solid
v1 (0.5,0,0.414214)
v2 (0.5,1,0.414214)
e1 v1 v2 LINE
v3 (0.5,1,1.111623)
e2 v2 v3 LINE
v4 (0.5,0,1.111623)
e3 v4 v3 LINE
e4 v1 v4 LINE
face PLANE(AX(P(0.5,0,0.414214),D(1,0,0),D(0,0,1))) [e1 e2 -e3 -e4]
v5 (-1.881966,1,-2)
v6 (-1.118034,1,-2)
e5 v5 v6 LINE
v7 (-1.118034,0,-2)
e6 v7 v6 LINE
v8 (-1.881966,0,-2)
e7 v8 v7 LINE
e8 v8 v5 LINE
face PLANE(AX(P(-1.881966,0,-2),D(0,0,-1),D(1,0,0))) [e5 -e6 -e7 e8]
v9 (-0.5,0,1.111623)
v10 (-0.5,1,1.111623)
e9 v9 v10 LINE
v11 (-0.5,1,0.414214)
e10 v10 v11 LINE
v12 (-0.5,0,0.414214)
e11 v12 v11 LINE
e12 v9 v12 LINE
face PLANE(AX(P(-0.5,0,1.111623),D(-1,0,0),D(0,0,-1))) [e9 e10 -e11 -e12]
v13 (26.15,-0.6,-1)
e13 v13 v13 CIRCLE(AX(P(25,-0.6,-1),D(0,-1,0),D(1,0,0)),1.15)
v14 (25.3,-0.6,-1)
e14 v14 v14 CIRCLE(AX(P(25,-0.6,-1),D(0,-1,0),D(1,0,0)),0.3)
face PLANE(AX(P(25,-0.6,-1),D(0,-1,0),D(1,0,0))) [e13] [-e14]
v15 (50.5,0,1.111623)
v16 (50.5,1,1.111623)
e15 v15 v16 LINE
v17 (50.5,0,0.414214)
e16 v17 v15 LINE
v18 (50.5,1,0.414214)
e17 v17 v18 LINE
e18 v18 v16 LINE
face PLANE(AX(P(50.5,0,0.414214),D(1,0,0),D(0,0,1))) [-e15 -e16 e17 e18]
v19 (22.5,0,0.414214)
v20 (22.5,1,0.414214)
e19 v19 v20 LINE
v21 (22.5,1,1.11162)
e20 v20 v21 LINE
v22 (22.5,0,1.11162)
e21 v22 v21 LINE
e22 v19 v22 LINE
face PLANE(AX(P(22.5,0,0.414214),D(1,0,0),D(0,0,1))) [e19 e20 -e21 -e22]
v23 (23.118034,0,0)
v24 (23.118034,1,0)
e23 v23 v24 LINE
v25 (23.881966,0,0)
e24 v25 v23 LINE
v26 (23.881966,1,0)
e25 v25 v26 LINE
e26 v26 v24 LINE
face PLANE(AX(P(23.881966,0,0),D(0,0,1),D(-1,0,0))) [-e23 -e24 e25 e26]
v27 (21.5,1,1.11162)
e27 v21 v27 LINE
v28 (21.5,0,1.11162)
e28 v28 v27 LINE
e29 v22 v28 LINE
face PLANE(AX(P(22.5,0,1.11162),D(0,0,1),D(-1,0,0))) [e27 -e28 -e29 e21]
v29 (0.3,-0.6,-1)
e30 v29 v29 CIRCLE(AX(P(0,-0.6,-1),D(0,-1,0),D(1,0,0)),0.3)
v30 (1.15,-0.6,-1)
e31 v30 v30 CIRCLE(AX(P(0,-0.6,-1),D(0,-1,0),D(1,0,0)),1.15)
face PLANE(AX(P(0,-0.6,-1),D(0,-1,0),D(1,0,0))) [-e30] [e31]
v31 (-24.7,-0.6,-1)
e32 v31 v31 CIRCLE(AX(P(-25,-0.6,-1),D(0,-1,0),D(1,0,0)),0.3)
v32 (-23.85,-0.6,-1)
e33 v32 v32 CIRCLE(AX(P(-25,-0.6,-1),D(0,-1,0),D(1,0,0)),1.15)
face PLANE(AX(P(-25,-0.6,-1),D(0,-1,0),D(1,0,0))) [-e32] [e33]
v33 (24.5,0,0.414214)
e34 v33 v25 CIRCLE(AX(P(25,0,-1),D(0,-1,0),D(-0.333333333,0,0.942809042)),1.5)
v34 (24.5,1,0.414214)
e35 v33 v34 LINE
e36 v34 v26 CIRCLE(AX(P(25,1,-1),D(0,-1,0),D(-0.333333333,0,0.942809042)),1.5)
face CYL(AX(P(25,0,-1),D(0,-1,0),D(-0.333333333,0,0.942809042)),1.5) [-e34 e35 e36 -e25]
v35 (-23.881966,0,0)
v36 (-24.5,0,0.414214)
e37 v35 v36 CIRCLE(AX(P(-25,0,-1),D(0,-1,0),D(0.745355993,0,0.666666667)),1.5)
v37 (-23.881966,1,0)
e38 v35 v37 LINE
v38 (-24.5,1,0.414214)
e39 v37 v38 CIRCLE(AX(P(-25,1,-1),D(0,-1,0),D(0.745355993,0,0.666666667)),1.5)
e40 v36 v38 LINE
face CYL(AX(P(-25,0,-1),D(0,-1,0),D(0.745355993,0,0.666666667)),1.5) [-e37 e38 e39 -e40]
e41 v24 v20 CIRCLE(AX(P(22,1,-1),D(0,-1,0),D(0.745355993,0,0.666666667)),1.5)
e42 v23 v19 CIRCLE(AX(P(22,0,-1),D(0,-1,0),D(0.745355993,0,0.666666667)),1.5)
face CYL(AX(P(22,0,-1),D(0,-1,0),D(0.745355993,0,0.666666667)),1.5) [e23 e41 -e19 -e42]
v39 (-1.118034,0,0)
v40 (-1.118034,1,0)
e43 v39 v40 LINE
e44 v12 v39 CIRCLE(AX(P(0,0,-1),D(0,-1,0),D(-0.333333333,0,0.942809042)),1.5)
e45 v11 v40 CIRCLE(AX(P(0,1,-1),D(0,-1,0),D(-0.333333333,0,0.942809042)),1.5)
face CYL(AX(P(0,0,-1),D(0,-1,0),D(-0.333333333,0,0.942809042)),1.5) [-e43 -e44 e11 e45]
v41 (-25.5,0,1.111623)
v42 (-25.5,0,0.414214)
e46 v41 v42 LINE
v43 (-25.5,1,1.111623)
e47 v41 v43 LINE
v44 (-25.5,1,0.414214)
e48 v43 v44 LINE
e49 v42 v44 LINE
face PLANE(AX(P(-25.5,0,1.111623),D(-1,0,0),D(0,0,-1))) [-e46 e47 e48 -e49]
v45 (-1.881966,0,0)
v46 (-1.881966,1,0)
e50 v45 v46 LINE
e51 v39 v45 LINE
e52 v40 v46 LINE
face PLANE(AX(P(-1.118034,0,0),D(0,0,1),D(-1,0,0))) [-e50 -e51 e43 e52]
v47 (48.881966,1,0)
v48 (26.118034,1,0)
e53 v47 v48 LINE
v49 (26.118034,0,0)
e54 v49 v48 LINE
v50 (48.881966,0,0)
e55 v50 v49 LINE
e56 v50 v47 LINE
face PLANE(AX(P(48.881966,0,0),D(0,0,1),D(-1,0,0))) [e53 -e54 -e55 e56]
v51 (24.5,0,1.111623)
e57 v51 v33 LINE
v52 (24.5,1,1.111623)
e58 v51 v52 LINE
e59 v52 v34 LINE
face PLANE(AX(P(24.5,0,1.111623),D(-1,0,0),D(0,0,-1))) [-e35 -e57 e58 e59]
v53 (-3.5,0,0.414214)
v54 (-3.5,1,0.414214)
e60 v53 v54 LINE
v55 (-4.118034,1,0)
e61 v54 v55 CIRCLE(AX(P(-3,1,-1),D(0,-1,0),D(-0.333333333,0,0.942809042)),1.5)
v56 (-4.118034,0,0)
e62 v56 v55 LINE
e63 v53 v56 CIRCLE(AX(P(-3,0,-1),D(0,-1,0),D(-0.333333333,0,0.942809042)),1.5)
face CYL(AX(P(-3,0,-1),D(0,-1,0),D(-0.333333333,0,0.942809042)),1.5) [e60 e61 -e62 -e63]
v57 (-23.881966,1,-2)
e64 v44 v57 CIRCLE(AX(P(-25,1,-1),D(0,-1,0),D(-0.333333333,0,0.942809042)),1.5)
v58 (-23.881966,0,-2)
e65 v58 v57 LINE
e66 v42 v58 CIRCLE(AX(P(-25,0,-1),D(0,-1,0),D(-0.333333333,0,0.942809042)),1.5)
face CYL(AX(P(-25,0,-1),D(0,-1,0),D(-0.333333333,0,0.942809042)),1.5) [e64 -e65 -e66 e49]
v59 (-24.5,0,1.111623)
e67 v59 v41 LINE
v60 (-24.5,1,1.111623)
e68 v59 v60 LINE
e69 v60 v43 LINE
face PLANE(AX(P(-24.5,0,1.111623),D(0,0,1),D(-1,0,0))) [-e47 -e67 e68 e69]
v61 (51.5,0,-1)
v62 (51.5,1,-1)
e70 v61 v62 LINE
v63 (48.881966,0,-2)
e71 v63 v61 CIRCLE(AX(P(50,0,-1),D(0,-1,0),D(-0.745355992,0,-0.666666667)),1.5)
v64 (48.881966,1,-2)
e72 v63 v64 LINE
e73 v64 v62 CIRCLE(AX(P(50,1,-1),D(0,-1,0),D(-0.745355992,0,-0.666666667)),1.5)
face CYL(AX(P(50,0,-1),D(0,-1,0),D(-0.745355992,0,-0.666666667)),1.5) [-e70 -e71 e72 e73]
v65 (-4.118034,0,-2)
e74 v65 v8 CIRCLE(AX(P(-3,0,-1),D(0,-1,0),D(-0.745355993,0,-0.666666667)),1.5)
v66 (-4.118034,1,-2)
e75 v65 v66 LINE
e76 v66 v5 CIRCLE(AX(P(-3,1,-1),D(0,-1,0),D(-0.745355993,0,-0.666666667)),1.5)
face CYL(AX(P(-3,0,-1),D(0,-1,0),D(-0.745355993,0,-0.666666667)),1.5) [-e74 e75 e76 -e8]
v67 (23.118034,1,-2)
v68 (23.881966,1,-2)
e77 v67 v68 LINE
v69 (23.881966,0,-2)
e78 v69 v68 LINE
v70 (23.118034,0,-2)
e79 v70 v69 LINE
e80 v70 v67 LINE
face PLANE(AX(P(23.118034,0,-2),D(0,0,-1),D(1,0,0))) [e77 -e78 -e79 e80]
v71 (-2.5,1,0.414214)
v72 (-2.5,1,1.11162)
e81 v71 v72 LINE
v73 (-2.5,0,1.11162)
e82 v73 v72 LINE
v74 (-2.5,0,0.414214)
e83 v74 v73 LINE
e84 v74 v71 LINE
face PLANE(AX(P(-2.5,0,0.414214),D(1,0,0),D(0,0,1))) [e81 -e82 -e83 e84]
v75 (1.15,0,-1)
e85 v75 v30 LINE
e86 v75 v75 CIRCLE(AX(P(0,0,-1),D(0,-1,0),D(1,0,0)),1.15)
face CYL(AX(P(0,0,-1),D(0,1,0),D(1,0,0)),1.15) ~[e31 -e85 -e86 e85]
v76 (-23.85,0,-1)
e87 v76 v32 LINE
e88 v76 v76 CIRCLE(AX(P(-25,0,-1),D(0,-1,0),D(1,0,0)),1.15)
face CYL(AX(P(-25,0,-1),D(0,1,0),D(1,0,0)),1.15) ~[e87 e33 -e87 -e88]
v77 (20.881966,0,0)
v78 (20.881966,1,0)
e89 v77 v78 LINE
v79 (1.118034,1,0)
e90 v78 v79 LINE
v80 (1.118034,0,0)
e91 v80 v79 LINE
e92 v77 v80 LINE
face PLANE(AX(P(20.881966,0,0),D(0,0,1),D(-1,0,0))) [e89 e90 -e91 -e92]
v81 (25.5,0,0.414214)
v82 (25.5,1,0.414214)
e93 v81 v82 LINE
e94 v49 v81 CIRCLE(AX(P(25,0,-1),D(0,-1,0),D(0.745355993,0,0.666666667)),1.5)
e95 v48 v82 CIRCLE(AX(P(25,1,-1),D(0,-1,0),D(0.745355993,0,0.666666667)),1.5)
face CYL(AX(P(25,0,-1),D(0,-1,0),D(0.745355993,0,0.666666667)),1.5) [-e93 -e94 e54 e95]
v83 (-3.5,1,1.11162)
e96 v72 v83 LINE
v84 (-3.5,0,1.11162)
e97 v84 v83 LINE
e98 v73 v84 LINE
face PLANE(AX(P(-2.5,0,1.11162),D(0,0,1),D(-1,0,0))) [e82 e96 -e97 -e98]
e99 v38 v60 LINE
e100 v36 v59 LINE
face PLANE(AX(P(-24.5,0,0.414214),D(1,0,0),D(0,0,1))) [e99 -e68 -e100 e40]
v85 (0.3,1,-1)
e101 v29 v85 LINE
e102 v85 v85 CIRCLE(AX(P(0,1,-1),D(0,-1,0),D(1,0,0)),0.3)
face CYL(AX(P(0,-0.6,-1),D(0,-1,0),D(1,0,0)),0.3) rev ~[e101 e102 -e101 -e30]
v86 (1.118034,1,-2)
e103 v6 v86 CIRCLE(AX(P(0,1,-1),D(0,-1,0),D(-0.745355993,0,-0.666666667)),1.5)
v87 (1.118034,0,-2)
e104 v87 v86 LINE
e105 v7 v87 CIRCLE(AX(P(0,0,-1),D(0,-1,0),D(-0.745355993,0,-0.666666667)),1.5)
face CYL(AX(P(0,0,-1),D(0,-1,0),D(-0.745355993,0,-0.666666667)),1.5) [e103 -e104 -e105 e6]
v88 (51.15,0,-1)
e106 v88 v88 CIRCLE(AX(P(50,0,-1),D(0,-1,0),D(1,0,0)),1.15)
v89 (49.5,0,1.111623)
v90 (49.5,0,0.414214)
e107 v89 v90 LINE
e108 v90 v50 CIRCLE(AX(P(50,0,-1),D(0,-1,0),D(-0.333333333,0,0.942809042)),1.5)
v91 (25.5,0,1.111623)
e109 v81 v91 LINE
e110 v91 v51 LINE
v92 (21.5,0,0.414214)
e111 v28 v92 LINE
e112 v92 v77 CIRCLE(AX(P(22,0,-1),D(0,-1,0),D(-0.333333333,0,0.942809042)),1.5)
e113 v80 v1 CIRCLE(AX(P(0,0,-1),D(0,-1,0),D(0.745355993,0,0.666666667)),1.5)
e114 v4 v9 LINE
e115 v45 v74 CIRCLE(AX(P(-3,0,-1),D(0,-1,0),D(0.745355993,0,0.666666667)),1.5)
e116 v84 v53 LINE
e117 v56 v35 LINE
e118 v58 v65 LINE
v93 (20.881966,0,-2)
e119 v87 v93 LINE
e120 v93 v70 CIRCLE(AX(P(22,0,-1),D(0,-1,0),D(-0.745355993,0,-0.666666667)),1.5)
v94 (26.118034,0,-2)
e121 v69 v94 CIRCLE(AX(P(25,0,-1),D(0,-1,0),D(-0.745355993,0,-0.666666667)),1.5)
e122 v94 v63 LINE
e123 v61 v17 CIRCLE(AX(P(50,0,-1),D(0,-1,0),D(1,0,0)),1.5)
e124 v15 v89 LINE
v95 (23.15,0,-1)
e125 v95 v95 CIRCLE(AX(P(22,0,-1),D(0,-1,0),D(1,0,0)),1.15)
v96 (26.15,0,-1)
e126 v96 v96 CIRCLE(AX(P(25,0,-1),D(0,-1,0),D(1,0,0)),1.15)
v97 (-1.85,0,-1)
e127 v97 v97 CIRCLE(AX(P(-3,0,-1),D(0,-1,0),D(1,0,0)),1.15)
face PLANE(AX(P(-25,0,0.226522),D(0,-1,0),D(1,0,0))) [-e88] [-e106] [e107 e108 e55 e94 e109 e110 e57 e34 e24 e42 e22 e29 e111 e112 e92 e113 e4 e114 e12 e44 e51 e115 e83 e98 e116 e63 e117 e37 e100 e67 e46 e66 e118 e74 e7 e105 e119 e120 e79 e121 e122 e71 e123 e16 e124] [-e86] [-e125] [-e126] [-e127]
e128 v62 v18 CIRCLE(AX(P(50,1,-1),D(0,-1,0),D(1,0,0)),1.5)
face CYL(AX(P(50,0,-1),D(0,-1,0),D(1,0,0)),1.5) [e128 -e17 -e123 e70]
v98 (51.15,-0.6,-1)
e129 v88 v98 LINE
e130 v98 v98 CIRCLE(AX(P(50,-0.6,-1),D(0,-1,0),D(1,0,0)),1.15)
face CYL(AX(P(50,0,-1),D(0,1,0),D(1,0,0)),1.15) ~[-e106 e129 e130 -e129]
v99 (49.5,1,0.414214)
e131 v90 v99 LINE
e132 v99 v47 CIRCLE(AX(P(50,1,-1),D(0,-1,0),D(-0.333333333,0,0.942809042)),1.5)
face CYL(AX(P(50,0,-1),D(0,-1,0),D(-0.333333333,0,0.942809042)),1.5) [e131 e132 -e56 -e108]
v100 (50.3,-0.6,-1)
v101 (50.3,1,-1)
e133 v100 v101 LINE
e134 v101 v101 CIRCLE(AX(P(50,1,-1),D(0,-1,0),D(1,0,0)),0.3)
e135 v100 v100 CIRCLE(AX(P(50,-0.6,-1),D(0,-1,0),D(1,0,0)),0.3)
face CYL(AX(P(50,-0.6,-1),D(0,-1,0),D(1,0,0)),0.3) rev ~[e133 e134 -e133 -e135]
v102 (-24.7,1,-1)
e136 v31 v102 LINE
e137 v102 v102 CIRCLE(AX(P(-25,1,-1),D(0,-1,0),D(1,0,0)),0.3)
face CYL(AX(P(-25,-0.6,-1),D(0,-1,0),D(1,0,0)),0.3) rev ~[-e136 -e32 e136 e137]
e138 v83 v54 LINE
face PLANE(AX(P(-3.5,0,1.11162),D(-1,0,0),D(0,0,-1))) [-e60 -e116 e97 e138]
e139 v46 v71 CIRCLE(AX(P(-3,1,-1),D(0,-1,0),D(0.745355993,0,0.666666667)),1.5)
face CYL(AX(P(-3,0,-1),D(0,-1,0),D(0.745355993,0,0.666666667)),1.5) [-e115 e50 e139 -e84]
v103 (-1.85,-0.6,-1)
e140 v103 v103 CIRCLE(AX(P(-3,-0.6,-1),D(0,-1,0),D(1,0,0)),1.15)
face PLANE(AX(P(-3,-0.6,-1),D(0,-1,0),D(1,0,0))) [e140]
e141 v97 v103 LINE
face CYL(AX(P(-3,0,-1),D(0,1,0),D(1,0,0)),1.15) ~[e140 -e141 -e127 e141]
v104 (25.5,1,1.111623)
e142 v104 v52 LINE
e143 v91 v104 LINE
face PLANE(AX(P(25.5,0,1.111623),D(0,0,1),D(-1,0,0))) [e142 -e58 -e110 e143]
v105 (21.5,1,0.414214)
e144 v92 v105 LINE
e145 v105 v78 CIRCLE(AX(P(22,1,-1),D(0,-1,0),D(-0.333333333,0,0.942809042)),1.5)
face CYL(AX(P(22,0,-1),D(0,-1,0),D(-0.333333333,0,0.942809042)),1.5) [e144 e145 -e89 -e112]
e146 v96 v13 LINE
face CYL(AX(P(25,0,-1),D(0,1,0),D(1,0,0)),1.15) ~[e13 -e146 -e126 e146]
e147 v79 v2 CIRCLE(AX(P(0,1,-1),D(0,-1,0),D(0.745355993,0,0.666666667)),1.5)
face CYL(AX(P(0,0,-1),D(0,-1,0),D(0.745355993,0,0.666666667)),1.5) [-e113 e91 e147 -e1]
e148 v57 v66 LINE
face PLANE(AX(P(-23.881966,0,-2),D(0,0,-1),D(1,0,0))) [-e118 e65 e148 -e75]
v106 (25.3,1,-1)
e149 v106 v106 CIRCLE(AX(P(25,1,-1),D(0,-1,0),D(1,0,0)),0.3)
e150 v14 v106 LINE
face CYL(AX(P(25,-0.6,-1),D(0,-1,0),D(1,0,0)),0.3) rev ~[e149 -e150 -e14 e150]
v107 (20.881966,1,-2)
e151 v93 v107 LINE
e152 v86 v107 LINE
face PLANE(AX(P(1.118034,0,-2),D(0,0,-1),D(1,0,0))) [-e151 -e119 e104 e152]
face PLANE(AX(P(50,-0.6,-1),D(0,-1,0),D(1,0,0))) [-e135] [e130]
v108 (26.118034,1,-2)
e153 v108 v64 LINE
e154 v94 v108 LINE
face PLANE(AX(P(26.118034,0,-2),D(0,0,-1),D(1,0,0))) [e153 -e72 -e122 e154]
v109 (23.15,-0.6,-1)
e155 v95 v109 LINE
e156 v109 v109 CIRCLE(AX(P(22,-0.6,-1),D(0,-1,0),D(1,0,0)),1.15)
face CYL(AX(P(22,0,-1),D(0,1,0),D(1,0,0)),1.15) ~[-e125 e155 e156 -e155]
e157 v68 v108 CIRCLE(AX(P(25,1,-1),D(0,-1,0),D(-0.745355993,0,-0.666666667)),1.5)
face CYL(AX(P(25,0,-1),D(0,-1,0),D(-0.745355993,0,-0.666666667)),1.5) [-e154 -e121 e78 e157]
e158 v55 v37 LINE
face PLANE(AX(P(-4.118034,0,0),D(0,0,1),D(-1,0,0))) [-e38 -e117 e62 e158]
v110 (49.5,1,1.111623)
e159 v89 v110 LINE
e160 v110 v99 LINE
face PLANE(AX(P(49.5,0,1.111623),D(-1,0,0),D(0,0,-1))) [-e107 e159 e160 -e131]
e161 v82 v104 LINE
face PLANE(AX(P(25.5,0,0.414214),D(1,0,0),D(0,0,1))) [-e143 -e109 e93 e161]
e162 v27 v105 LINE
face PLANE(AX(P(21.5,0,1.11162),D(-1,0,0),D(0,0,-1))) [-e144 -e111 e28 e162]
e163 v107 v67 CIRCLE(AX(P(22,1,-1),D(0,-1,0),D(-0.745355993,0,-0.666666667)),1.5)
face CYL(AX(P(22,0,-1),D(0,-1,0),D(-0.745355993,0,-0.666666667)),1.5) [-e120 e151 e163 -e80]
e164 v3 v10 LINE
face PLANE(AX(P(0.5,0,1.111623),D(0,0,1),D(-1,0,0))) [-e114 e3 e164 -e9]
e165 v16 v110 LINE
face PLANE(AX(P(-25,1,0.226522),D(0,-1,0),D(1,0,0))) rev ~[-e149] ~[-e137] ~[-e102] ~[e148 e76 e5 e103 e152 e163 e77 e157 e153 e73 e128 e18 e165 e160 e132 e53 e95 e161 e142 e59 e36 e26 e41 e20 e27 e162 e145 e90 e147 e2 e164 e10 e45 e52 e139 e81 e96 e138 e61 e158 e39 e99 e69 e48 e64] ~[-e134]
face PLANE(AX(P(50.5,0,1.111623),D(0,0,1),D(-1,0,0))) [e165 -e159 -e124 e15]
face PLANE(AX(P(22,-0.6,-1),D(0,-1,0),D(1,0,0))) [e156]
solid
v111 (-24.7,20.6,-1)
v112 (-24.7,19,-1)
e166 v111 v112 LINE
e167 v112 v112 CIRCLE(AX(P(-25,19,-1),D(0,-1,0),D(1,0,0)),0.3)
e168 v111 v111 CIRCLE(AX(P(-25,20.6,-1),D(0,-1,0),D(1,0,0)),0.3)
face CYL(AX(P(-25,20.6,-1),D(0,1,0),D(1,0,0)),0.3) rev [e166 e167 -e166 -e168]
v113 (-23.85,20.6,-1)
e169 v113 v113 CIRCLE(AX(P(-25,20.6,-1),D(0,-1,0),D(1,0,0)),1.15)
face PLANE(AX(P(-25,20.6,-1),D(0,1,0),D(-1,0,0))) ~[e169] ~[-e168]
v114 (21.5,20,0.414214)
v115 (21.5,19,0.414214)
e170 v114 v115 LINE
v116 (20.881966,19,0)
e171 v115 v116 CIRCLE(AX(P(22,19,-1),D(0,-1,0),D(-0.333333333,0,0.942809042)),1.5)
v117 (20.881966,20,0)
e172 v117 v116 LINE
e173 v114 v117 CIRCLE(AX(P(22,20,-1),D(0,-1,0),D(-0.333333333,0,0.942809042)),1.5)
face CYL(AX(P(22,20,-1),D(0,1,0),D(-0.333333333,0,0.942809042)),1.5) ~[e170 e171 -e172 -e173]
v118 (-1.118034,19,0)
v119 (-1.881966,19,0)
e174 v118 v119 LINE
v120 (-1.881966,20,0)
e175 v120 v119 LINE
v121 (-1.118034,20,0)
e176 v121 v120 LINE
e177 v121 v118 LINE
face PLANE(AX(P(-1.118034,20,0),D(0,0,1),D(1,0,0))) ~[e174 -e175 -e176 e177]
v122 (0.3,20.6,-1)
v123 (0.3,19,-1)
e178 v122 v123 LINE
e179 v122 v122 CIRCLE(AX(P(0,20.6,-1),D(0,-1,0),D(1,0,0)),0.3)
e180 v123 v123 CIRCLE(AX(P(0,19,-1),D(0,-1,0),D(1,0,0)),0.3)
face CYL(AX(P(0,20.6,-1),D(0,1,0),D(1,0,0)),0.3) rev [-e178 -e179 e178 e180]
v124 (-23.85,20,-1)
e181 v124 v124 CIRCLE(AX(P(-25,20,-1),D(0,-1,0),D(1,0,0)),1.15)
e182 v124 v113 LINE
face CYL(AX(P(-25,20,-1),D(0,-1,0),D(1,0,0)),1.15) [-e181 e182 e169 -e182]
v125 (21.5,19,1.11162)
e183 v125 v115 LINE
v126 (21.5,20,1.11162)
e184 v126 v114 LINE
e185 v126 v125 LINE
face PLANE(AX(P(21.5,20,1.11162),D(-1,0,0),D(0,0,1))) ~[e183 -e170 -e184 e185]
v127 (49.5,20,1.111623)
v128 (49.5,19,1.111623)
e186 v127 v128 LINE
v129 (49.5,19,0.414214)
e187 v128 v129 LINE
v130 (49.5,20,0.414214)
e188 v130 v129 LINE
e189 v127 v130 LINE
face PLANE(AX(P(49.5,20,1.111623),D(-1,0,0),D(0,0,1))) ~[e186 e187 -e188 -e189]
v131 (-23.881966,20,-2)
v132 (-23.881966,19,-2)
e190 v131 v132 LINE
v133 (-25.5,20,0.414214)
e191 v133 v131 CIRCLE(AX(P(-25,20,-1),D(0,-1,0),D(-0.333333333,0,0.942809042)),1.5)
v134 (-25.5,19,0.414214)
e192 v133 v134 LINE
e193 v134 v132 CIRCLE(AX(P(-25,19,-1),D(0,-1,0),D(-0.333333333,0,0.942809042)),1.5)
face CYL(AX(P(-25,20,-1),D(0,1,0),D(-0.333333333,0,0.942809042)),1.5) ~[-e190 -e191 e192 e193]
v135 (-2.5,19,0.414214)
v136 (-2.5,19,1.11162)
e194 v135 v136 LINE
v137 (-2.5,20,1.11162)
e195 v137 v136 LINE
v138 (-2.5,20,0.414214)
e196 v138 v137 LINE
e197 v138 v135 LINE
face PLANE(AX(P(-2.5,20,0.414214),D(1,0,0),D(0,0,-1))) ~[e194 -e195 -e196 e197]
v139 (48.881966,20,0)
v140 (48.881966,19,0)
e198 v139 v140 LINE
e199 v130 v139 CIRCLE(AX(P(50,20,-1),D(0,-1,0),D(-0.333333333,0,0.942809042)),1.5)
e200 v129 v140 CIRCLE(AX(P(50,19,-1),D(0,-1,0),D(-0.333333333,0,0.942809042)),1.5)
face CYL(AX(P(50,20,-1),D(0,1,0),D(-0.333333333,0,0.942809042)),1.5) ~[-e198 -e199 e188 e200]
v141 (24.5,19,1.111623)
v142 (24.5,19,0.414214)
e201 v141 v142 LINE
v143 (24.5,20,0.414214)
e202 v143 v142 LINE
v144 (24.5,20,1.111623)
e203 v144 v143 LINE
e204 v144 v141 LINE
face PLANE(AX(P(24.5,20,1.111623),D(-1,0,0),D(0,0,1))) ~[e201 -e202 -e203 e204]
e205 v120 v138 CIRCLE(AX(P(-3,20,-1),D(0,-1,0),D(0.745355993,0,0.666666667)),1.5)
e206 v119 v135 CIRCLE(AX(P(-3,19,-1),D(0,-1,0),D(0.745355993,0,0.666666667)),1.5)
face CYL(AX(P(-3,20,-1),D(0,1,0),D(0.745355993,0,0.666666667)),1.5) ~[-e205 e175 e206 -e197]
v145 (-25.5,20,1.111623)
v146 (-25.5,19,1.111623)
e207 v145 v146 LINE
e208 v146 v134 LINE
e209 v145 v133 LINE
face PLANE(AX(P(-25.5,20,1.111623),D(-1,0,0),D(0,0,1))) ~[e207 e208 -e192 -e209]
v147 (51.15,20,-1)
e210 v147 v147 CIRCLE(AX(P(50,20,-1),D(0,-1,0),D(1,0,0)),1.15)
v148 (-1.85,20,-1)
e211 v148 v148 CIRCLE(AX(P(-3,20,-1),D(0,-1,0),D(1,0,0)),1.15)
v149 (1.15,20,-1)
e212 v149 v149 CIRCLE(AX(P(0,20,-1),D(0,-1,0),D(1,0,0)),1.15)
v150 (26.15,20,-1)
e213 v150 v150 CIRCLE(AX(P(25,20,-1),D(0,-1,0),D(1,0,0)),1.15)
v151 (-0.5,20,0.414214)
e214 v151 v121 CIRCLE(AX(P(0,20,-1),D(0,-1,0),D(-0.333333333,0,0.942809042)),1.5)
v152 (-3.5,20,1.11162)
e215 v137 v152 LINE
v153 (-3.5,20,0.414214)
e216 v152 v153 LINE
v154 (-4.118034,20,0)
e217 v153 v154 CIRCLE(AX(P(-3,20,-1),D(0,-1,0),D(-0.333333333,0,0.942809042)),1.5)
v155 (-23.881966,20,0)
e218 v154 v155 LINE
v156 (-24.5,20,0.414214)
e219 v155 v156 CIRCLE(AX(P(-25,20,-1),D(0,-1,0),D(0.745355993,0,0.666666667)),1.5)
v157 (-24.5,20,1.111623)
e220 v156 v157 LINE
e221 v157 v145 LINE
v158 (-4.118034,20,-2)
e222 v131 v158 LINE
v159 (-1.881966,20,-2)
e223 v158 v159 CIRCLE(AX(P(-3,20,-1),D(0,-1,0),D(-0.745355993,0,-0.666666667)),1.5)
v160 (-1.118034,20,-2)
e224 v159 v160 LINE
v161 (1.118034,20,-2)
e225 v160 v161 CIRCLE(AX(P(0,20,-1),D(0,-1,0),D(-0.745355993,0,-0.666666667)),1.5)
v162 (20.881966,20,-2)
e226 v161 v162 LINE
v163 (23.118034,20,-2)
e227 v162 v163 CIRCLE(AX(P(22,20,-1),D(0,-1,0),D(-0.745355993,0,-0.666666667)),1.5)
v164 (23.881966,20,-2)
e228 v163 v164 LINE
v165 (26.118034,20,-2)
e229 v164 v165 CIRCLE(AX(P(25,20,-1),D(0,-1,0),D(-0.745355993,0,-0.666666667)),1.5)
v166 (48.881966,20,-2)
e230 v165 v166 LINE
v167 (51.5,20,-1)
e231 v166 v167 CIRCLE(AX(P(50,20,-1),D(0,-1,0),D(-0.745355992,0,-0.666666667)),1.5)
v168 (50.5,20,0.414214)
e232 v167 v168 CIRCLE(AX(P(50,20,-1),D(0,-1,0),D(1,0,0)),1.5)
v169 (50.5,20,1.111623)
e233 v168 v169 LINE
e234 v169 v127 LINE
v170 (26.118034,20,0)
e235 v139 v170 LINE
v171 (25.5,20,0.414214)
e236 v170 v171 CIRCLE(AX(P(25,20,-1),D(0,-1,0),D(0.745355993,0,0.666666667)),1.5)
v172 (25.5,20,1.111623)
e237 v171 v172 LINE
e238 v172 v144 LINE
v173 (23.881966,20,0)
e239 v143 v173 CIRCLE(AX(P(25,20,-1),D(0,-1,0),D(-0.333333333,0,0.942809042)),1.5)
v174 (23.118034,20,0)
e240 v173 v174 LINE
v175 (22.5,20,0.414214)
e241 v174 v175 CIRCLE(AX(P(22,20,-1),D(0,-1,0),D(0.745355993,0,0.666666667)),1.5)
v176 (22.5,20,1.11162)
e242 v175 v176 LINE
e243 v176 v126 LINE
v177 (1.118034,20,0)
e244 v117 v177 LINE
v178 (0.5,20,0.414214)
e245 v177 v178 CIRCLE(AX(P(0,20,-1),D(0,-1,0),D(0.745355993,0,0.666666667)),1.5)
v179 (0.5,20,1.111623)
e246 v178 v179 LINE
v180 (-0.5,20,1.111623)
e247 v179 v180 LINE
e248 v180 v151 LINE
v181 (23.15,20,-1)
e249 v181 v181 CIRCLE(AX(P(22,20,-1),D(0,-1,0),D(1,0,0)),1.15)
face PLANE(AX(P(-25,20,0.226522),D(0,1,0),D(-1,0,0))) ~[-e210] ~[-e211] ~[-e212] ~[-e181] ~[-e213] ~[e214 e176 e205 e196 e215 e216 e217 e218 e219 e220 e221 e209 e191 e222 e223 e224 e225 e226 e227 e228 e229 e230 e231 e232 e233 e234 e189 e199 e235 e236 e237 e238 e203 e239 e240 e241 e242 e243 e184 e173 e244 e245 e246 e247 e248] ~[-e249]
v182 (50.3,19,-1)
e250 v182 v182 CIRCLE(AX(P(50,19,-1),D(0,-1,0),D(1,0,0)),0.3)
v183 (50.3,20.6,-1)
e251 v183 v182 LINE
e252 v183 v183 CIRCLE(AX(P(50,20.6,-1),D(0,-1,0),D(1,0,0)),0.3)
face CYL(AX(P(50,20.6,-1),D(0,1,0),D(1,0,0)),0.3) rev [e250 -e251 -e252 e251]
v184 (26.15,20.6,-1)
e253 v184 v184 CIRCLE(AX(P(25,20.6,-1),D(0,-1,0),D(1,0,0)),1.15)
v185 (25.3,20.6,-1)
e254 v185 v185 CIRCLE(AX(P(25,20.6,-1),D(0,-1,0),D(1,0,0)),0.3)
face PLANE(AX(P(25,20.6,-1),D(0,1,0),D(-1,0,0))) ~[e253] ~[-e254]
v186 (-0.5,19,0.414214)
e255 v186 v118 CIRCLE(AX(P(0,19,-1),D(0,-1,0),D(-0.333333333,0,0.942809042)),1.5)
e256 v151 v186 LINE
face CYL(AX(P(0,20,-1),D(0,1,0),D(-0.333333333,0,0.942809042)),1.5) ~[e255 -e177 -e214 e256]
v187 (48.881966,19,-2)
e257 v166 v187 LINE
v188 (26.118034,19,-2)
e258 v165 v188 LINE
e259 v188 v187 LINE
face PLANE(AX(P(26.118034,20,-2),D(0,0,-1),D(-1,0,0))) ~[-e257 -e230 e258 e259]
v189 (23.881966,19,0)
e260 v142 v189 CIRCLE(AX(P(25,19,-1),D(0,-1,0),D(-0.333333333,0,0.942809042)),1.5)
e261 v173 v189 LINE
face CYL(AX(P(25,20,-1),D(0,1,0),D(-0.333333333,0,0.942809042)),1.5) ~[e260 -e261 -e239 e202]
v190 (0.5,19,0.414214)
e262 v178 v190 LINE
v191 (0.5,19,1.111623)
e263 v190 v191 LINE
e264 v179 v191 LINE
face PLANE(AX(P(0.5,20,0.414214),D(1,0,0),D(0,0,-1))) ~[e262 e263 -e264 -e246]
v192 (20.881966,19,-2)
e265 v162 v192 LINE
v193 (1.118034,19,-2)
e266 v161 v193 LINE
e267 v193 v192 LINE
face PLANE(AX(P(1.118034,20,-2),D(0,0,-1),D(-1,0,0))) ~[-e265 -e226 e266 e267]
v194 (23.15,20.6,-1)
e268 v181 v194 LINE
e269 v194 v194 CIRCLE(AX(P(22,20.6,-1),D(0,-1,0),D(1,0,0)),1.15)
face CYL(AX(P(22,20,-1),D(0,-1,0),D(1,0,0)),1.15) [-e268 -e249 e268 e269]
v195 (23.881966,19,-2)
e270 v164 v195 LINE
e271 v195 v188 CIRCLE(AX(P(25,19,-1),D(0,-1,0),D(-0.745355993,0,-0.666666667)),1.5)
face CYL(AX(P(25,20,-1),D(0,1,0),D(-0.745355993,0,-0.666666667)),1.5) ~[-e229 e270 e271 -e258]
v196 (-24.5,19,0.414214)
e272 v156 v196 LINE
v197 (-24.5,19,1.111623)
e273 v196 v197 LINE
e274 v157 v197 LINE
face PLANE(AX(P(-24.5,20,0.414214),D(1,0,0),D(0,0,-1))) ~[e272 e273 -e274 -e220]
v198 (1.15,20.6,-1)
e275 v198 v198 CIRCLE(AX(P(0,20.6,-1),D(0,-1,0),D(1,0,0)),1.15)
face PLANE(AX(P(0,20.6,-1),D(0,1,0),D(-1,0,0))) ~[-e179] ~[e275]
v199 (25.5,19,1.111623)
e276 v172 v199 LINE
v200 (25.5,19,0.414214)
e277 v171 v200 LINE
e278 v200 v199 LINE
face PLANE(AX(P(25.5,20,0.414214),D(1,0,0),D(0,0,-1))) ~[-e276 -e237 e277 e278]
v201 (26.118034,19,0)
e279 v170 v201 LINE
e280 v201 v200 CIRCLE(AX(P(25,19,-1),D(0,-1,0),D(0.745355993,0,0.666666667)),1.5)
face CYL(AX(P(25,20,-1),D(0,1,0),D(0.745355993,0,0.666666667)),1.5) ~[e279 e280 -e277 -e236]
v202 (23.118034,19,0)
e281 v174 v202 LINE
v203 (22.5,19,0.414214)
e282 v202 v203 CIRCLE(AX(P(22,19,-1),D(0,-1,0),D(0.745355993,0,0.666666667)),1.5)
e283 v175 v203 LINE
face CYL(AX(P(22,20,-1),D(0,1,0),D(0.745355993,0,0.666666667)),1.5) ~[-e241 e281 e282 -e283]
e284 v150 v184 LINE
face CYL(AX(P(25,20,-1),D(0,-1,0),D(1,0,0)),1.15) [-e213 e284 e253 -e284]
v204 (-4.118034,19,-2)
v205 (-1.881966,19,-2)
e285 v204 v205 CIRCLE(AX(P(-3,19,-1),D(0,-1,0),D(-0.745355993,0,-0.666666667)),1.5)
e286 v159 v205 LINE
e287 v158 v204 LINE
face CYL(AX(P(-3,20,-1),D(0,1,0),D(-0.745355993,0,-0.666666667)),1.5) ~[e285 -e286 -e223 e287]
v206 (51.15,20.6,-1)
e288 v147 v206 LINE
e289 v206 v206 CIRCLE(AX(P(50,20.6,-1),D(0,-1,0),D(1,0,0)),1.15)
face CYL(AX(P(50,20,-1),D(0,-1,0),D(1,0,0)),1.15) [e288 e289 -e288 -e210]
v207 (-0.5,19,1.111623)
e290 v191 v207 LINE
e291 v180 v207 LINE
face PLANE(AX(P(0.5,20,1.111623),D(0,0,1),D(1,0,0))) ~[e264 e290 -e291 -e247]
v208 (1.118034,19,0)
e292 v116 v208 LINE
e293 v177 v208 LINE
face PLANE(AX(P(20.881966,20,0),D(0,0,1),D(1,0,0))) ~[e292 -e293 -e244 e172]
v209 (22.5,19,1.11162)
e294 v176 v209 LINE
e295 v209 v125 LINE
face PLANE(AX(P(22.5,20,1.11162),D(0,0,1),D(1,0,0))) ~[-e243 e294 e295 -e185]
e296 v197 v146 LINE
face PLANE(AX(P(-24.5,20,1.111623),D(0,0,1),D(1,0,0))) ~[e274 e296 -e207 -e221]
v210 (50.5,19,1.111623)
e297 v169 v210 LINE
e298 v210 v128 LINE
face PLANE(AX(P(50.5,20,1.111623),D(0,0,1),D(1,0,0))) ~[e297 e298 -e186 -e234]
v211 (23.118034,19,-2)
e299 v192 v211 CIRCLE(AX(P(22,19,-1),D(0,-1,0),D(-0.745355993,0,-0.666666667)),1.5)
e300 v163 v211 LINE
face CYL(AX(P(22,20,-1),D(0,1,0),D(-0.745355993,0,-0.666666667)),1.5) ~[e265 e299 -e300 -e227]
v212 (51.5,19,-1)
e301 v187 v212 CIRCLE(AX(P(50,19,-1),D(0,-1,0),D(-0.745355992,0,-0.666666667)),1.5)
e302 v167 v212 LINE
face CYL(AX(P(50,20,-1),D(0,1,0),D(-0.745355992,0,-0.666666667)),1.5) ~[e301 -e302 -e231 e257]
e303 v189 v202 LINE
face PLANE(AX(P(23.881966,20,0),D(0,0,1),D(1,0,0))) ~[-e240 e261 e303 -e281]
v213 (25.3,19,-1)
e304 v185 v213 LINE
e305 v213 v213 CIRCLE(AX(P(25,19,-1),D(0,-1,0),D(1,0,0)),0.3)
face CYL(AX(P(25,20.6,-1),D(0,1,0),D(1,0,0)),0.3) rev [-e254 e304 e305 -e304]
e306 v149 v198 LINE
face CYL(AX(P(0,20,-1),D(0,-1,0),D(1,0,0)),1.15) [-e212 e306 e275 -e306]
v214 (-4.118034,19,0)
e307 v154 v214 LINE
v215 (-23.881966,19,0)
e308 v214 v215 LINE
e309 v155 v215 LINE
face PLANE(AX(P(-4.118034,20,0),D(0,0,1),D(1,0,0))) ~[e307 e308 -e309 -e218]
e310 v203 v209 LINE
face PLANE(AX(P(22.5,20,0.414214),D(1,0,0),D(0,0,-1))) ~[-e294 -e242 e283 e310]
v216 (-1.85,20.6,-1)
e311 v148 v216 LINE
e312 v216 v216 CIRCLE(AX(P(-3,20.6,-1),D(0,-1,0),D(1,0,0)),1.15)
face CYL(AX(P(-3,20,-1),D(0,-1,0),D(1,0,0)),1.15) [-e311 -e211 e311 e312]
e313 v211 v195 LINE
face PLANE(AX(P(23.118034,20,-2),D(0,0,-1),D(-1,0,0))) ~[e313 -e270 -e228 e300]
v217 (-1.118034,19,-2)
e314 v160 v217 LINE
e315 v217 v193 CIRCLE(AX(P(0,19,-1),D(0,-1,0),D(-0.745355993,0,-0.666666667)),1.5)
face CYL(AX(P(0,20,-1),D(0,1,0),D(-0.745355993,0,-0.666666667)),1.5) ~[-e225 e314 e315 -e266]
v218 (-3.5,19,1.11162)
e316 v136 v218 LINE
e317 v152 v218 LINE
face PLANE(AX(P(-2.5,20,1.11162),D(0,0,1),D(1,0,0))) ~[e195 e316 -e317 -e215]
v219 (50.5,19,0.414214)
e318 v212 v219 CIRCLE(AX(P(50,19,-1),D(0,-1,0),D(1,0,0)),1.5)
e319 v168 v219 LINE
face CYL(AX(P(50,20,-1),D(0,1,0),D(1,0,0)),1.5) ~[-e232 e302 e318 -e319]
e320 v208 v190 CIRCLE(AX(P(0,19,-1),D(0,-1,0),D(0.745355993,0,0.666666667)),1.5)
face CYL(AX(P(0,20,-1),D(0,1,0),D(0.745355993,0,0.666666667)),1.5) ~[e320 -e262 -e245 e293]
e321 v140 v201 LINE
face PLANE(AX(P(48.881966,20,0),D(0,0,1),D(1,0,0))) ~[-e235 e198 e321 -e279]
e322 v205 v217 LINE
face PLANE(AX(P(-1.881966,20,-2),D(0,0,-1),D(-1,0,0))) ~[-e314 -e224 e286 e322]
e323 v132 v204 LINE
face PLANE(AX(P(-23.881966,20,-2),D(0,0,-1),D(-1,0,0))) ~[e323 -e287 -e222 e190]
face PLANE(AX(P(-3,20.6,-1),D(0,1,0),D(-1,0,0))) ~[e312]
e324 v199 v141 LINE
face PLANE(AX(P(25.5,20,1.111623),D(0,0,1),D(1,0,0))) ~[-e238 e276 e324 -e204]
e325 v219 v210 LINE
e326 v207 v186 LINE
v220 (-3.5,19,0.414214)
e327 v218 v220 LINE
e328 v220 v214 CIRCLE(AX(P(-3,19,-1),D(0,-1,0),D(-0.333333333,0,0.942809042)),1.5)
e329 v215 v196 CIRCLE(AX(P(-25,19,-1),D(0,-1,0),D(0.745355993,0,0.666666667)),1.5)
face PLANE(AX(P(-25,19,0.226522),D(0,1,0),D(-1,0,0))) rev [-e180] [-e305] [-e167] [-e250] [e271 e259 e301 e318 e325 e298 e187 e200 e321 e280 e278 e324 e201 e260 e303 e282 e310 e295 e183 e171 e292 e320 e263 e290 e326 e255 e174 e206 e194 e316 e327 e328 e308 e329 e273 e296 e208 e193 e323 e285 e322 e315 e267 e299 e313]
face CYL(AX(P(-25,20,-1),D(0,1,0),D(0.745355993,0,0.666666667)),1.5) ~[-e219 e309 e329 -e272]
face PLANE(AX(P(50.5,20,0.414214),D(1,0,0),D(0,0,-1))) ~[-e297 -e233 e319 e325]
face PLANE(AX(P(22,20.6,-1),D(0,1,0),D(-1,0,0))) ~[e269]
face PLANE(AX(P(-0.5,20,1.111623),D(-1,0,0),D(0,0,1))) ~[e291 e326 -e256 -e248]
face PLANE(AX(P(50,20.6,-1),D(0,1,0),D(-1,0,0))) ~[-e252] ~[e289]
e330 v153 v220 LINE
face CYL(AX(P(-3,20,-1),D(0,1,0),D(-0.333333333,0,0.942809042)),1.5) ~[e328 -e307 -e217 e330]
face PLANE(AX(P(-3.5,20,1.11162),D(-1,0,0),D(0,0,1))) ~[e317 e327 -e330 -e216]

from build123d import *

# Parameters (mm, degrees)
F1_DEPTH  = 1
F2_R      = 1.15
F3_DEPTH  = 0.6
F4_R      = 0.3
F8_DEPTH  = 2
F5_R      = 0.3
F9_DEPTH  = 2
F6_R      = 0.3
F10_DEPTH = 2
F7_R      = 0.3
F11_DEPTH = 2


with BuildPart() as f1:
    # F0 (on Front) → F1 (new body)
    with BuildSketch(Plane.XZ):
        with BuildLine():
            Line((-25.5, 0), (-25, 0))
            Line((-25, 0), (-24.5, 0))
            Line((-24.5, 0), (-24.5, 0.4142135624))
            ThreePointArc((-24.5, 0.4142135624), (-25, 0.5), (-25.5, 0.4142135624))
            Line((-25.5, 0.4142135624), (-25.5, 0))
        make_face()
        with BuildLine():
            Line((-24.5, 0), (-25, 0))
            Line((-25, 0), (-25, -2))
            Line((-25, -2), (-23.8819660113, -2))
            ThreePointArc((-23.8819660113, -2), (-23.5987414616, -1.5352331347), (-23.5, -1))
            ThreePointArc((-23.5, -1), (-23.5987414616, -0.4647668653), (-23.8819660113, 0))
            Line((-23.8819660113, 0), (-24.5, 0))
        make_face()
        with BuildLine():
            Line((-25, -2), (-25, 0))
            Line((-25, 0), (-25.5, 0))
            Line((-25.5, 0), (-25.5, 0.4142135624))
            ThreePointArc((-25.5, 0.4142135624), (-26.2460330188, -1.8351058113), (-23.8819660113, -2))
            Line((-23.8819660113, -2), (-25, -2))
        make_face()
        with BuildLine():
            Line((-24.5, 0.4142135624), (-24.5, 0))
            Line((-24.5, 0), (-23.8819660113, 0))
            ThreePointArc((-23.8819660113, 0), (-24.1648941887, 0.2460330188), (-24.5, 0.4142135624))
        make_face()
        with BuildLine():
            Line((-4.1180339887, 0), (-23.8819660113, 0))
            ThreePointArc((-23.8819660113, 0), (-23.5987414616, -0.4647668653), (-23.5, -1))
            ThreePointArc((-23.5, -1), (-23.5987414616, -1.5352331347), (-23.8819660113, -2))
            Line((-23.8819660113, -2), (-4.1180339887, -2))
            ThreePointArc((-4.1180339887, -2), (-4.5, -1), (-4.1180339887, 0))
        make_face()
        with BuildLine():
            ThreePointArc((-25.5, 0.4142135624), (-25, 0.5), (-24.5, 0.4142135624))
            Line((-24.5, 0.4142135624), (-24.5, 1.1116234818))
            Line((-24.5, 1.1116234818), (-25.5, 1.1116234818))
            Line((-25.5, 1.1116234818), (-25.5, 0.4142135624))
        make_face()
        with BuildLine():
            ThreePointArc((-3.5, 0.4142135624), (-3.8351058113, 0.2460330188), (-4.1180339887, 0))
            Line((-4.1180339887, 0), (-3.5, 0))
            Line((-3.5, 0), (-3.5, 0.4142135624))
        make_face()
        with BuildLine():
            Line((-3.5, 0), (-4.1180339887, 0))
            ThreePointArc((-4.1180339887, 0), (-4.5, -1), (-4.1180339887, -2))
            Line((-4.1180339887, -2), (-1.8819660113, -2))
            ThreePointArc((-1.8819660113, -2), (-1.5987414616, -1.5352331347), (-1.5, -1))
            ThreePointArc((-1.5, -1), (-1.5987414616, -0.4647668653), (-1.8819660113, 0))
            Line((-1.8819660113, 0), (-2.5, 0))
            Line((-2.5, 0), (-3.5, 0))
        make_face()
        with BuildLine():
            Line((-1.8819660113, -2), (-4.1180339887, -2))
            ThreePointArc((-4.1180339887, -2), (-3, -2.5), (-1.8819660113, -2))
        make_face()
        with BuildLine():
            Line((-3.5, 0.4142135624), (-3.5, 0))
            Line((-3.5, 0), (-2.5, 0))
            Line((-2.5, 0), (-2.5, 0.4142135624))
            ThreePointArc((-2.5, 0.4142135624), (-3, 0.5), (-3.5, 0.4142135624))
        make_face()
        with BuildLine():
            Line((-3.5, 1.11162), (-3.5, 0.4142135624))
            ThreePointArc((-3.5, 0.4142135624), (-3, 0.5), (-2.5, 0.4142135624))
            Line((-2.5, 0.4142135624), (-2.5, 1.11162))
            Line((-2.5, 1.11162), (-3.5, 1.11162))
        make_face()
        with BuildLine():
            ThreePointArc((-1.5, -1), (-1.5987414616, -1.5352331347), (-1.8819660113, -2))
            Line((-1.8819660113, -2), (-1.1180339887, -2))
            ThreePointArc((-1.1180339887, -2), (-1.4012585384, -1.5352331347), (-1.5, -1))
        make_face()
        with BuildLine():
            Line((-2.5, 0.4142135624), (-2.5, 0))
            Line((-2.5, 0), (-1.8819660113, 0))
            ThreePointArc((-1.8819660113, 0), (-2.1648941887, 0.2460330188), (-2.5, 0.4142135624))
        make_face()
        with BuildLine():
            ThreePointArc((-1.5, -1), (-1.4012585384, -1.5352331347), (-1.1180339887, -2))
            Line((-1.1180339887, -2), (1.1180339887, -2))
            ThreePointArc((1.1180339887, -2), (1.4012585384, -1.5352331347), (1.5, -1))
            ThreePointArc((1.5, -1), (1.4012585384, -0.4647668653), (1.1180339887, 0))
            Line((1.1180339887, 0), (0.5, 0))
            Line((0.5, 0), (-0.5, 0))
            Line((-0.5, 0), (-1.1180339887, 0))
            ThreePointArc((-1.1180339887, 0), (-1.4012585384, -0.4647668653), (-1.5, -1))
        make_face()
        with BuildLine():
            Line((1.1180339887, -2), (-1.1180339887, -2))
            ThreePointArc((-1.1180339887, -2), (0, -2.5), (1.1180339887, -2))
        make_face()
        with BuildLine():
            ThreePointArc((-1.8819660113, 0), (-1.5987414616, -0.4647668653), (-1.5, -1))
            ThreePointArc((-1.5, -1), (-1.4012585384, -0.4647668653), (-1.1180339887, 0))
            Line((-1.1180339887, 0), (-1.8819660113, 0))
        make_face()
        with BuildLine():
            ThreePointArc((1.5, -1), (1.4012585384, -1.5352331347), (1.1180339887, -2))
            Line((1.1180339887, -2), (20.8819660113, -2))
            ThreePointArc((20.8819660113, -2), (20.5, -1), (20.8819660113, 0))
            Line((20.8819660113, 0), (1.1180339887, 0))
            ThreePointArc((1.1180339887, 0), (1.4012585384, -0.4647668653), (1.5, -1))
        make_face()
        with BuildLine():
            ThreePointArc((-0.5, 0.4142135624), (-0.8351058113, 0.2460330188), (-1.1180339887, 0))
            Line((-1.1180339887, 0), (-0.5, 0))
            Line((-0.5, 0), (-0.5, 0.4142135624))
        make_face()
        with BuildLine():
            ThreePointArc((20.8819660113, 0), (20.5, -1), (20.8819660113, -2))
            Line((20.8819660113, -2), (23.1180339887, -2))
            ThreePointArc((23.1180339887, -2), (23.4012585384, -1.5352331347), (23.5, -1))
            ThreePointArc((23.5, -1), (23.4012585384, -0.4647668653), (23.1180339887, 0))
            Line((23.1180339887, 0), (22.5, 0))
            Line((22.5, 0), (21.5, 0))
            Line((21.5, 0), (20.8819660113, 0))
        make_face()
        with BuildLine():
            Line((23.1180339887, -2), (20.8819660113, -2))
            ThreePointArc((20.8819660113, -2), (22, -2.5), (23.1180339887, -2))
        make_face()
        with BuildLine():
            Line((-0.5, 0.4142135624), (-0.5, 0))
            Line((-0.5, 0), (0.5, 0))
            Line((0.5, 0), (0.5, 0.4142135624))
            ThreePointArc((0.5, 0.4142135624), (0, 0.5), (-0.5, 0.4142135624))
        make_face()
        with BuildLine():
            Line((-0.5, 1.1116234818), (-0.5, 0.4142135624))
            ThreePointArc((-0.5, 0.4142135624), (0, 0.5), (0.5, 0.4142135624))
            Line((0.5, 0.4142135624), (0.5, 1.1116234818))
            Line((0.5, 1.1116234818), (-0.5, 1.1116234818))
        make_face()
        with BuildLine():
            ThreePointArc((23.5, -1), (23.4012585384, -1.5352331347), (23.1180339887, -2))
            Line((23.1180339887, -2), (23.8819660113, -2))
            ThreePointArc((23.8819660113, -2), (23.5987414616, -1.5352331347), (23.5, -1))
        make_face()
        with BuildLine():
            ThreePointArc((21.5, 0.4142135624), (21.1648941887, 0.2460330188), (20.8819660113, 0))
            Line((20.8819660113, 0), (21.5, 0))
            Line((21.5, 0), (21.5, 0.4142135624))
        make_face()
        with BuildLine():
            Line((0.5, 0), (1.1180339887, 0))
            ThreePointArc((1.1180339887, 0), (0.8351058113, 0.2460330188), (0.5, 0.4142135624))
            Line((0.5, 0.4142135624), (0.5, 0))
        make_face()
        with BuildLine():
            ThreePointArc((23.5, -1), (23.5987414616, -1.5352331347), (23.8819660113, -2))
            Line((23.8819660113, -2), (26.1180339887, -2))
            ThreePointArc((26.1180339887, -2), (26.4012585384, -1.5352331347), (26.5, -1))
            ThreePointArc((26.5, -1), (26.4012585384, -0.4647668653), (26.1180339887, 0))
            Line((26.1180339887, 0), (25.5, 0))
            Line((25.5, 0), (24.5, 0))
            Line((24.5, 0), (23.8819660113, 0))
            ThreePointArc((23.8819660113, 0), (23.5987414616, -0.4647668653), (23.5, -1))
        make_face()
        with BuildLine():
            Line((26.1180339887, -2), (23.8819660113, -2))
            ThreePointArc((23.8819660113, -2), (25, -2.5), (26.1180339887, -2))
        make_face()
        with BuildLine():
            ThreePointArc((23.1180339887, 0), (23.4012585384, -0.4647668653), (23.5, -1))
            ThreePointArc((23.5, -1), (23.5987414616, -0.4647668653), (23.8819660113, 0))
            Line((23.8819660113, 0), (23.1180339887, 0))
        make_face()
        with BuildLine():
            Line((21.5, 0.4142135624), (21.5, 0))
            Line((21.5, 0), (22.5, 0))
            Line((22.5, 0), (22.5, 0.4142135624))
            ThreePointArc((22.5, 0.4142135624), (22, 0.5), (21.5, 0.4142135624))
        make_face()
        with BuildLine():
            Line((21.5, 1.11162), (21.5, 0.4142135624))
            ThreePointArc((21.5, 0.4142135624), (22, 0.5), (22.5, 0.4142135624))
            Line((22.5, 0.4142135624), (22.5, 1.11162))
            Line((22.5, 1.11162), (21.5, 1.11162))
        make_face()
        with BuildLine():
            ThreePointArc((26.5, -1), (26.4012585384, -1.5352331347), (26.1180339887, -2))
            Line((26.1180339887, -2), (48.8819660113, -2))
            ThreePointArc((48.8819660113, -2), (48.5, -1), (48.8819660113, 0))
            Line((48.8819660113, 0), (26.1180339887, 0))
            ThreePointArc((26.1180339887, 0), (26.4012585384, -0.4647668653), (26.5, -1))
        make_face()
        with BuildLine():
            ThreePointArc((24.5, 0.4142135624), (24.1648941887, 0.2460330188), (23.8819660113, 0))
            Line((23.8819660113, 0), (24.5, 0))
            Line((24.5, 0), (24.5, 0.4142135624))
        make_face()
        with BuildLine():
            Line((22.5, 0), (23.1180339887, 0))
            ThreePointArc((23.1180339887, 0), (22.8351058113, 0.2460330188), (22.5, 0.4142135624))
            Line((22.5, 0.4142135624), (22.5, 0))
        make_face()
        with BuildLine():
            ThreePointArc((48.8819660113, 0), (48.5, -1), (48.8819660113, -2))
            Line((48.8819660113, -2), (50, -2))
            Line((50, -2), (50, 0))
            Line((50, 0), (49.5, 0))
            Line((49.5, 0), (48.8819660113, 0))
        make_face()
        with BuildLine():
            Line((50, -2), (48.8819660113, -2))
            ThreePointArc((48.8819660113, -2), (50.5352331347, -2.4012585384), (51.5, -1))
            ThreePointArc((51.5, -1), (51.2247448714, -0.1339745962), (50.5, 0.4142135624))
            Line((50.5, 0.4142135624), (50.5, 0))
            Line((50.5, 0), (50, 0))
            Line((50, 0), (50, -2))
        make_face()
        with BuildLine():
            Line((24.5, 0.4142135624), (24.5, 0))
            Line((24.5, 0), (25.5, 0))
            Line((25.5, 0), (25.5, 0.4142135624))
            ThreePointArc((25.5, 0.4142135624), (25, 0.5), (24.5, 0.4142135624))
        make_face()
        with BuildLine():
            Line((24.5, 1.1116234818), (24.5, 0.4142135624))
            ThreePointArc((24.5, 0.4142135624), (25, 0.5), (25.5, 0.4142135624))
            Line((25.5, 0.4142135624), (25.5, 1.1116234818))
            Line((25.5, 1.1116234818), (24.5, 1.1116234818))
        make_face()
        with BuildLine():
            ThreePointArc((49.5, 0.4142135624), (49.1648941887, 0.2460330188), (48.8819660113, 0))
            Line((48.8819660113, 0), (49.5, 0))
            Line((49.5, 0), (49.5, 0.4142135624))
        make_face()
        with BuildLine():
            Line((25.5, 0), (26.1180339887, 0))
            ThreePointArc((26.1180339887, 0), (25.8351058113, 0.2460330188), (25.5, 0.4142135624))
            Line((25.5, 0.4142135624), (25.5, 0))
        make_face()
        with BuildLine():
            Line((49.5, 0), (50, 0))
            Line((50, 0), (50.5, 0))
            Line((50.5, 0), (50.5, 0.4142135624))
            ThreePointArc((50.5, 0.4142135624), (50, 0.5), (49.5, 0.4142135624))
            Line((49.5, 0.4142135624), (49.5, 0))
        make_face()
        with BuildLine():
            Line((49.5, 1.1116234818), (49.5, 0.4142135624))
            ThreePointArc((49.5, 0.4142135624), (50, 0.5), (50.5, 0.4142135624))
            Line((50.5, 0.4142135624), (50.5, 1.1116234818))
            Line((50.5, 1.1116234818), (49.5, 1.1116234818))
        make_face()
    extrude(amount=-F1_DEPTH)

    # F2 (on face) → F3 (join)
    with BuildSketch(Plane.XZ):
        with Locations((-25, -1)):
            Circle(F2_R)
        with Locations((-3, -1)):
            Circle(F2_R)
        with Locations((0, -1)):
            Circle(F2_R)
        with Locations((22, -1)):
            Circle(F2_R)
        with Locations((25, -1)):
            Circle(F2_R)
        with Locations((50, -1)):
            Circle(F2_R)
    extrude(amount=F3_DEPTH)

    # F4 (on face) → F8 (cut)
    with BuildSketch(Plane.XZ.offset(0.6)):
        with Locations((-25, -1)):
            Circle(F4_R)
    extrude(amount=-F8_DEPTH, mode=Mode.SUBTRACT)

    # F5 (on face) → F9 (cut)
    with BuildSketch(Plane.XZ.offset(0.6)):
        with Locations((0, -1)):
            Circle(F5_R)
    extrude(amount=-F9_DEPTH, mode=Mode.SUBTRACT)

    # F6 (on face) → F10 (cut)
    with BuildSketch(Plane.XZ.offset(0.6)):
        with Locations((25, -1)):
            Circle(F6_R)
    extrude(amount=-F10_DEPTH, mode=Mode.SUBTRACT)

    # F7 (on face) → F11 (cut)
    with BuildSketch(Plane.XZ.offset(0.6)):
        with Locations((50, -1)):
            Circle(F7_R)
    extrude(amount=-F11_DEPTH, mode=Mode.SUBTRACT)


with BuildPart() as f13_1:
    # F13: instance of F1
    add(f1.part.mirror(Plane.XZ.offset(-10)))


solid = Compound([f1.part, f13_1.part])
